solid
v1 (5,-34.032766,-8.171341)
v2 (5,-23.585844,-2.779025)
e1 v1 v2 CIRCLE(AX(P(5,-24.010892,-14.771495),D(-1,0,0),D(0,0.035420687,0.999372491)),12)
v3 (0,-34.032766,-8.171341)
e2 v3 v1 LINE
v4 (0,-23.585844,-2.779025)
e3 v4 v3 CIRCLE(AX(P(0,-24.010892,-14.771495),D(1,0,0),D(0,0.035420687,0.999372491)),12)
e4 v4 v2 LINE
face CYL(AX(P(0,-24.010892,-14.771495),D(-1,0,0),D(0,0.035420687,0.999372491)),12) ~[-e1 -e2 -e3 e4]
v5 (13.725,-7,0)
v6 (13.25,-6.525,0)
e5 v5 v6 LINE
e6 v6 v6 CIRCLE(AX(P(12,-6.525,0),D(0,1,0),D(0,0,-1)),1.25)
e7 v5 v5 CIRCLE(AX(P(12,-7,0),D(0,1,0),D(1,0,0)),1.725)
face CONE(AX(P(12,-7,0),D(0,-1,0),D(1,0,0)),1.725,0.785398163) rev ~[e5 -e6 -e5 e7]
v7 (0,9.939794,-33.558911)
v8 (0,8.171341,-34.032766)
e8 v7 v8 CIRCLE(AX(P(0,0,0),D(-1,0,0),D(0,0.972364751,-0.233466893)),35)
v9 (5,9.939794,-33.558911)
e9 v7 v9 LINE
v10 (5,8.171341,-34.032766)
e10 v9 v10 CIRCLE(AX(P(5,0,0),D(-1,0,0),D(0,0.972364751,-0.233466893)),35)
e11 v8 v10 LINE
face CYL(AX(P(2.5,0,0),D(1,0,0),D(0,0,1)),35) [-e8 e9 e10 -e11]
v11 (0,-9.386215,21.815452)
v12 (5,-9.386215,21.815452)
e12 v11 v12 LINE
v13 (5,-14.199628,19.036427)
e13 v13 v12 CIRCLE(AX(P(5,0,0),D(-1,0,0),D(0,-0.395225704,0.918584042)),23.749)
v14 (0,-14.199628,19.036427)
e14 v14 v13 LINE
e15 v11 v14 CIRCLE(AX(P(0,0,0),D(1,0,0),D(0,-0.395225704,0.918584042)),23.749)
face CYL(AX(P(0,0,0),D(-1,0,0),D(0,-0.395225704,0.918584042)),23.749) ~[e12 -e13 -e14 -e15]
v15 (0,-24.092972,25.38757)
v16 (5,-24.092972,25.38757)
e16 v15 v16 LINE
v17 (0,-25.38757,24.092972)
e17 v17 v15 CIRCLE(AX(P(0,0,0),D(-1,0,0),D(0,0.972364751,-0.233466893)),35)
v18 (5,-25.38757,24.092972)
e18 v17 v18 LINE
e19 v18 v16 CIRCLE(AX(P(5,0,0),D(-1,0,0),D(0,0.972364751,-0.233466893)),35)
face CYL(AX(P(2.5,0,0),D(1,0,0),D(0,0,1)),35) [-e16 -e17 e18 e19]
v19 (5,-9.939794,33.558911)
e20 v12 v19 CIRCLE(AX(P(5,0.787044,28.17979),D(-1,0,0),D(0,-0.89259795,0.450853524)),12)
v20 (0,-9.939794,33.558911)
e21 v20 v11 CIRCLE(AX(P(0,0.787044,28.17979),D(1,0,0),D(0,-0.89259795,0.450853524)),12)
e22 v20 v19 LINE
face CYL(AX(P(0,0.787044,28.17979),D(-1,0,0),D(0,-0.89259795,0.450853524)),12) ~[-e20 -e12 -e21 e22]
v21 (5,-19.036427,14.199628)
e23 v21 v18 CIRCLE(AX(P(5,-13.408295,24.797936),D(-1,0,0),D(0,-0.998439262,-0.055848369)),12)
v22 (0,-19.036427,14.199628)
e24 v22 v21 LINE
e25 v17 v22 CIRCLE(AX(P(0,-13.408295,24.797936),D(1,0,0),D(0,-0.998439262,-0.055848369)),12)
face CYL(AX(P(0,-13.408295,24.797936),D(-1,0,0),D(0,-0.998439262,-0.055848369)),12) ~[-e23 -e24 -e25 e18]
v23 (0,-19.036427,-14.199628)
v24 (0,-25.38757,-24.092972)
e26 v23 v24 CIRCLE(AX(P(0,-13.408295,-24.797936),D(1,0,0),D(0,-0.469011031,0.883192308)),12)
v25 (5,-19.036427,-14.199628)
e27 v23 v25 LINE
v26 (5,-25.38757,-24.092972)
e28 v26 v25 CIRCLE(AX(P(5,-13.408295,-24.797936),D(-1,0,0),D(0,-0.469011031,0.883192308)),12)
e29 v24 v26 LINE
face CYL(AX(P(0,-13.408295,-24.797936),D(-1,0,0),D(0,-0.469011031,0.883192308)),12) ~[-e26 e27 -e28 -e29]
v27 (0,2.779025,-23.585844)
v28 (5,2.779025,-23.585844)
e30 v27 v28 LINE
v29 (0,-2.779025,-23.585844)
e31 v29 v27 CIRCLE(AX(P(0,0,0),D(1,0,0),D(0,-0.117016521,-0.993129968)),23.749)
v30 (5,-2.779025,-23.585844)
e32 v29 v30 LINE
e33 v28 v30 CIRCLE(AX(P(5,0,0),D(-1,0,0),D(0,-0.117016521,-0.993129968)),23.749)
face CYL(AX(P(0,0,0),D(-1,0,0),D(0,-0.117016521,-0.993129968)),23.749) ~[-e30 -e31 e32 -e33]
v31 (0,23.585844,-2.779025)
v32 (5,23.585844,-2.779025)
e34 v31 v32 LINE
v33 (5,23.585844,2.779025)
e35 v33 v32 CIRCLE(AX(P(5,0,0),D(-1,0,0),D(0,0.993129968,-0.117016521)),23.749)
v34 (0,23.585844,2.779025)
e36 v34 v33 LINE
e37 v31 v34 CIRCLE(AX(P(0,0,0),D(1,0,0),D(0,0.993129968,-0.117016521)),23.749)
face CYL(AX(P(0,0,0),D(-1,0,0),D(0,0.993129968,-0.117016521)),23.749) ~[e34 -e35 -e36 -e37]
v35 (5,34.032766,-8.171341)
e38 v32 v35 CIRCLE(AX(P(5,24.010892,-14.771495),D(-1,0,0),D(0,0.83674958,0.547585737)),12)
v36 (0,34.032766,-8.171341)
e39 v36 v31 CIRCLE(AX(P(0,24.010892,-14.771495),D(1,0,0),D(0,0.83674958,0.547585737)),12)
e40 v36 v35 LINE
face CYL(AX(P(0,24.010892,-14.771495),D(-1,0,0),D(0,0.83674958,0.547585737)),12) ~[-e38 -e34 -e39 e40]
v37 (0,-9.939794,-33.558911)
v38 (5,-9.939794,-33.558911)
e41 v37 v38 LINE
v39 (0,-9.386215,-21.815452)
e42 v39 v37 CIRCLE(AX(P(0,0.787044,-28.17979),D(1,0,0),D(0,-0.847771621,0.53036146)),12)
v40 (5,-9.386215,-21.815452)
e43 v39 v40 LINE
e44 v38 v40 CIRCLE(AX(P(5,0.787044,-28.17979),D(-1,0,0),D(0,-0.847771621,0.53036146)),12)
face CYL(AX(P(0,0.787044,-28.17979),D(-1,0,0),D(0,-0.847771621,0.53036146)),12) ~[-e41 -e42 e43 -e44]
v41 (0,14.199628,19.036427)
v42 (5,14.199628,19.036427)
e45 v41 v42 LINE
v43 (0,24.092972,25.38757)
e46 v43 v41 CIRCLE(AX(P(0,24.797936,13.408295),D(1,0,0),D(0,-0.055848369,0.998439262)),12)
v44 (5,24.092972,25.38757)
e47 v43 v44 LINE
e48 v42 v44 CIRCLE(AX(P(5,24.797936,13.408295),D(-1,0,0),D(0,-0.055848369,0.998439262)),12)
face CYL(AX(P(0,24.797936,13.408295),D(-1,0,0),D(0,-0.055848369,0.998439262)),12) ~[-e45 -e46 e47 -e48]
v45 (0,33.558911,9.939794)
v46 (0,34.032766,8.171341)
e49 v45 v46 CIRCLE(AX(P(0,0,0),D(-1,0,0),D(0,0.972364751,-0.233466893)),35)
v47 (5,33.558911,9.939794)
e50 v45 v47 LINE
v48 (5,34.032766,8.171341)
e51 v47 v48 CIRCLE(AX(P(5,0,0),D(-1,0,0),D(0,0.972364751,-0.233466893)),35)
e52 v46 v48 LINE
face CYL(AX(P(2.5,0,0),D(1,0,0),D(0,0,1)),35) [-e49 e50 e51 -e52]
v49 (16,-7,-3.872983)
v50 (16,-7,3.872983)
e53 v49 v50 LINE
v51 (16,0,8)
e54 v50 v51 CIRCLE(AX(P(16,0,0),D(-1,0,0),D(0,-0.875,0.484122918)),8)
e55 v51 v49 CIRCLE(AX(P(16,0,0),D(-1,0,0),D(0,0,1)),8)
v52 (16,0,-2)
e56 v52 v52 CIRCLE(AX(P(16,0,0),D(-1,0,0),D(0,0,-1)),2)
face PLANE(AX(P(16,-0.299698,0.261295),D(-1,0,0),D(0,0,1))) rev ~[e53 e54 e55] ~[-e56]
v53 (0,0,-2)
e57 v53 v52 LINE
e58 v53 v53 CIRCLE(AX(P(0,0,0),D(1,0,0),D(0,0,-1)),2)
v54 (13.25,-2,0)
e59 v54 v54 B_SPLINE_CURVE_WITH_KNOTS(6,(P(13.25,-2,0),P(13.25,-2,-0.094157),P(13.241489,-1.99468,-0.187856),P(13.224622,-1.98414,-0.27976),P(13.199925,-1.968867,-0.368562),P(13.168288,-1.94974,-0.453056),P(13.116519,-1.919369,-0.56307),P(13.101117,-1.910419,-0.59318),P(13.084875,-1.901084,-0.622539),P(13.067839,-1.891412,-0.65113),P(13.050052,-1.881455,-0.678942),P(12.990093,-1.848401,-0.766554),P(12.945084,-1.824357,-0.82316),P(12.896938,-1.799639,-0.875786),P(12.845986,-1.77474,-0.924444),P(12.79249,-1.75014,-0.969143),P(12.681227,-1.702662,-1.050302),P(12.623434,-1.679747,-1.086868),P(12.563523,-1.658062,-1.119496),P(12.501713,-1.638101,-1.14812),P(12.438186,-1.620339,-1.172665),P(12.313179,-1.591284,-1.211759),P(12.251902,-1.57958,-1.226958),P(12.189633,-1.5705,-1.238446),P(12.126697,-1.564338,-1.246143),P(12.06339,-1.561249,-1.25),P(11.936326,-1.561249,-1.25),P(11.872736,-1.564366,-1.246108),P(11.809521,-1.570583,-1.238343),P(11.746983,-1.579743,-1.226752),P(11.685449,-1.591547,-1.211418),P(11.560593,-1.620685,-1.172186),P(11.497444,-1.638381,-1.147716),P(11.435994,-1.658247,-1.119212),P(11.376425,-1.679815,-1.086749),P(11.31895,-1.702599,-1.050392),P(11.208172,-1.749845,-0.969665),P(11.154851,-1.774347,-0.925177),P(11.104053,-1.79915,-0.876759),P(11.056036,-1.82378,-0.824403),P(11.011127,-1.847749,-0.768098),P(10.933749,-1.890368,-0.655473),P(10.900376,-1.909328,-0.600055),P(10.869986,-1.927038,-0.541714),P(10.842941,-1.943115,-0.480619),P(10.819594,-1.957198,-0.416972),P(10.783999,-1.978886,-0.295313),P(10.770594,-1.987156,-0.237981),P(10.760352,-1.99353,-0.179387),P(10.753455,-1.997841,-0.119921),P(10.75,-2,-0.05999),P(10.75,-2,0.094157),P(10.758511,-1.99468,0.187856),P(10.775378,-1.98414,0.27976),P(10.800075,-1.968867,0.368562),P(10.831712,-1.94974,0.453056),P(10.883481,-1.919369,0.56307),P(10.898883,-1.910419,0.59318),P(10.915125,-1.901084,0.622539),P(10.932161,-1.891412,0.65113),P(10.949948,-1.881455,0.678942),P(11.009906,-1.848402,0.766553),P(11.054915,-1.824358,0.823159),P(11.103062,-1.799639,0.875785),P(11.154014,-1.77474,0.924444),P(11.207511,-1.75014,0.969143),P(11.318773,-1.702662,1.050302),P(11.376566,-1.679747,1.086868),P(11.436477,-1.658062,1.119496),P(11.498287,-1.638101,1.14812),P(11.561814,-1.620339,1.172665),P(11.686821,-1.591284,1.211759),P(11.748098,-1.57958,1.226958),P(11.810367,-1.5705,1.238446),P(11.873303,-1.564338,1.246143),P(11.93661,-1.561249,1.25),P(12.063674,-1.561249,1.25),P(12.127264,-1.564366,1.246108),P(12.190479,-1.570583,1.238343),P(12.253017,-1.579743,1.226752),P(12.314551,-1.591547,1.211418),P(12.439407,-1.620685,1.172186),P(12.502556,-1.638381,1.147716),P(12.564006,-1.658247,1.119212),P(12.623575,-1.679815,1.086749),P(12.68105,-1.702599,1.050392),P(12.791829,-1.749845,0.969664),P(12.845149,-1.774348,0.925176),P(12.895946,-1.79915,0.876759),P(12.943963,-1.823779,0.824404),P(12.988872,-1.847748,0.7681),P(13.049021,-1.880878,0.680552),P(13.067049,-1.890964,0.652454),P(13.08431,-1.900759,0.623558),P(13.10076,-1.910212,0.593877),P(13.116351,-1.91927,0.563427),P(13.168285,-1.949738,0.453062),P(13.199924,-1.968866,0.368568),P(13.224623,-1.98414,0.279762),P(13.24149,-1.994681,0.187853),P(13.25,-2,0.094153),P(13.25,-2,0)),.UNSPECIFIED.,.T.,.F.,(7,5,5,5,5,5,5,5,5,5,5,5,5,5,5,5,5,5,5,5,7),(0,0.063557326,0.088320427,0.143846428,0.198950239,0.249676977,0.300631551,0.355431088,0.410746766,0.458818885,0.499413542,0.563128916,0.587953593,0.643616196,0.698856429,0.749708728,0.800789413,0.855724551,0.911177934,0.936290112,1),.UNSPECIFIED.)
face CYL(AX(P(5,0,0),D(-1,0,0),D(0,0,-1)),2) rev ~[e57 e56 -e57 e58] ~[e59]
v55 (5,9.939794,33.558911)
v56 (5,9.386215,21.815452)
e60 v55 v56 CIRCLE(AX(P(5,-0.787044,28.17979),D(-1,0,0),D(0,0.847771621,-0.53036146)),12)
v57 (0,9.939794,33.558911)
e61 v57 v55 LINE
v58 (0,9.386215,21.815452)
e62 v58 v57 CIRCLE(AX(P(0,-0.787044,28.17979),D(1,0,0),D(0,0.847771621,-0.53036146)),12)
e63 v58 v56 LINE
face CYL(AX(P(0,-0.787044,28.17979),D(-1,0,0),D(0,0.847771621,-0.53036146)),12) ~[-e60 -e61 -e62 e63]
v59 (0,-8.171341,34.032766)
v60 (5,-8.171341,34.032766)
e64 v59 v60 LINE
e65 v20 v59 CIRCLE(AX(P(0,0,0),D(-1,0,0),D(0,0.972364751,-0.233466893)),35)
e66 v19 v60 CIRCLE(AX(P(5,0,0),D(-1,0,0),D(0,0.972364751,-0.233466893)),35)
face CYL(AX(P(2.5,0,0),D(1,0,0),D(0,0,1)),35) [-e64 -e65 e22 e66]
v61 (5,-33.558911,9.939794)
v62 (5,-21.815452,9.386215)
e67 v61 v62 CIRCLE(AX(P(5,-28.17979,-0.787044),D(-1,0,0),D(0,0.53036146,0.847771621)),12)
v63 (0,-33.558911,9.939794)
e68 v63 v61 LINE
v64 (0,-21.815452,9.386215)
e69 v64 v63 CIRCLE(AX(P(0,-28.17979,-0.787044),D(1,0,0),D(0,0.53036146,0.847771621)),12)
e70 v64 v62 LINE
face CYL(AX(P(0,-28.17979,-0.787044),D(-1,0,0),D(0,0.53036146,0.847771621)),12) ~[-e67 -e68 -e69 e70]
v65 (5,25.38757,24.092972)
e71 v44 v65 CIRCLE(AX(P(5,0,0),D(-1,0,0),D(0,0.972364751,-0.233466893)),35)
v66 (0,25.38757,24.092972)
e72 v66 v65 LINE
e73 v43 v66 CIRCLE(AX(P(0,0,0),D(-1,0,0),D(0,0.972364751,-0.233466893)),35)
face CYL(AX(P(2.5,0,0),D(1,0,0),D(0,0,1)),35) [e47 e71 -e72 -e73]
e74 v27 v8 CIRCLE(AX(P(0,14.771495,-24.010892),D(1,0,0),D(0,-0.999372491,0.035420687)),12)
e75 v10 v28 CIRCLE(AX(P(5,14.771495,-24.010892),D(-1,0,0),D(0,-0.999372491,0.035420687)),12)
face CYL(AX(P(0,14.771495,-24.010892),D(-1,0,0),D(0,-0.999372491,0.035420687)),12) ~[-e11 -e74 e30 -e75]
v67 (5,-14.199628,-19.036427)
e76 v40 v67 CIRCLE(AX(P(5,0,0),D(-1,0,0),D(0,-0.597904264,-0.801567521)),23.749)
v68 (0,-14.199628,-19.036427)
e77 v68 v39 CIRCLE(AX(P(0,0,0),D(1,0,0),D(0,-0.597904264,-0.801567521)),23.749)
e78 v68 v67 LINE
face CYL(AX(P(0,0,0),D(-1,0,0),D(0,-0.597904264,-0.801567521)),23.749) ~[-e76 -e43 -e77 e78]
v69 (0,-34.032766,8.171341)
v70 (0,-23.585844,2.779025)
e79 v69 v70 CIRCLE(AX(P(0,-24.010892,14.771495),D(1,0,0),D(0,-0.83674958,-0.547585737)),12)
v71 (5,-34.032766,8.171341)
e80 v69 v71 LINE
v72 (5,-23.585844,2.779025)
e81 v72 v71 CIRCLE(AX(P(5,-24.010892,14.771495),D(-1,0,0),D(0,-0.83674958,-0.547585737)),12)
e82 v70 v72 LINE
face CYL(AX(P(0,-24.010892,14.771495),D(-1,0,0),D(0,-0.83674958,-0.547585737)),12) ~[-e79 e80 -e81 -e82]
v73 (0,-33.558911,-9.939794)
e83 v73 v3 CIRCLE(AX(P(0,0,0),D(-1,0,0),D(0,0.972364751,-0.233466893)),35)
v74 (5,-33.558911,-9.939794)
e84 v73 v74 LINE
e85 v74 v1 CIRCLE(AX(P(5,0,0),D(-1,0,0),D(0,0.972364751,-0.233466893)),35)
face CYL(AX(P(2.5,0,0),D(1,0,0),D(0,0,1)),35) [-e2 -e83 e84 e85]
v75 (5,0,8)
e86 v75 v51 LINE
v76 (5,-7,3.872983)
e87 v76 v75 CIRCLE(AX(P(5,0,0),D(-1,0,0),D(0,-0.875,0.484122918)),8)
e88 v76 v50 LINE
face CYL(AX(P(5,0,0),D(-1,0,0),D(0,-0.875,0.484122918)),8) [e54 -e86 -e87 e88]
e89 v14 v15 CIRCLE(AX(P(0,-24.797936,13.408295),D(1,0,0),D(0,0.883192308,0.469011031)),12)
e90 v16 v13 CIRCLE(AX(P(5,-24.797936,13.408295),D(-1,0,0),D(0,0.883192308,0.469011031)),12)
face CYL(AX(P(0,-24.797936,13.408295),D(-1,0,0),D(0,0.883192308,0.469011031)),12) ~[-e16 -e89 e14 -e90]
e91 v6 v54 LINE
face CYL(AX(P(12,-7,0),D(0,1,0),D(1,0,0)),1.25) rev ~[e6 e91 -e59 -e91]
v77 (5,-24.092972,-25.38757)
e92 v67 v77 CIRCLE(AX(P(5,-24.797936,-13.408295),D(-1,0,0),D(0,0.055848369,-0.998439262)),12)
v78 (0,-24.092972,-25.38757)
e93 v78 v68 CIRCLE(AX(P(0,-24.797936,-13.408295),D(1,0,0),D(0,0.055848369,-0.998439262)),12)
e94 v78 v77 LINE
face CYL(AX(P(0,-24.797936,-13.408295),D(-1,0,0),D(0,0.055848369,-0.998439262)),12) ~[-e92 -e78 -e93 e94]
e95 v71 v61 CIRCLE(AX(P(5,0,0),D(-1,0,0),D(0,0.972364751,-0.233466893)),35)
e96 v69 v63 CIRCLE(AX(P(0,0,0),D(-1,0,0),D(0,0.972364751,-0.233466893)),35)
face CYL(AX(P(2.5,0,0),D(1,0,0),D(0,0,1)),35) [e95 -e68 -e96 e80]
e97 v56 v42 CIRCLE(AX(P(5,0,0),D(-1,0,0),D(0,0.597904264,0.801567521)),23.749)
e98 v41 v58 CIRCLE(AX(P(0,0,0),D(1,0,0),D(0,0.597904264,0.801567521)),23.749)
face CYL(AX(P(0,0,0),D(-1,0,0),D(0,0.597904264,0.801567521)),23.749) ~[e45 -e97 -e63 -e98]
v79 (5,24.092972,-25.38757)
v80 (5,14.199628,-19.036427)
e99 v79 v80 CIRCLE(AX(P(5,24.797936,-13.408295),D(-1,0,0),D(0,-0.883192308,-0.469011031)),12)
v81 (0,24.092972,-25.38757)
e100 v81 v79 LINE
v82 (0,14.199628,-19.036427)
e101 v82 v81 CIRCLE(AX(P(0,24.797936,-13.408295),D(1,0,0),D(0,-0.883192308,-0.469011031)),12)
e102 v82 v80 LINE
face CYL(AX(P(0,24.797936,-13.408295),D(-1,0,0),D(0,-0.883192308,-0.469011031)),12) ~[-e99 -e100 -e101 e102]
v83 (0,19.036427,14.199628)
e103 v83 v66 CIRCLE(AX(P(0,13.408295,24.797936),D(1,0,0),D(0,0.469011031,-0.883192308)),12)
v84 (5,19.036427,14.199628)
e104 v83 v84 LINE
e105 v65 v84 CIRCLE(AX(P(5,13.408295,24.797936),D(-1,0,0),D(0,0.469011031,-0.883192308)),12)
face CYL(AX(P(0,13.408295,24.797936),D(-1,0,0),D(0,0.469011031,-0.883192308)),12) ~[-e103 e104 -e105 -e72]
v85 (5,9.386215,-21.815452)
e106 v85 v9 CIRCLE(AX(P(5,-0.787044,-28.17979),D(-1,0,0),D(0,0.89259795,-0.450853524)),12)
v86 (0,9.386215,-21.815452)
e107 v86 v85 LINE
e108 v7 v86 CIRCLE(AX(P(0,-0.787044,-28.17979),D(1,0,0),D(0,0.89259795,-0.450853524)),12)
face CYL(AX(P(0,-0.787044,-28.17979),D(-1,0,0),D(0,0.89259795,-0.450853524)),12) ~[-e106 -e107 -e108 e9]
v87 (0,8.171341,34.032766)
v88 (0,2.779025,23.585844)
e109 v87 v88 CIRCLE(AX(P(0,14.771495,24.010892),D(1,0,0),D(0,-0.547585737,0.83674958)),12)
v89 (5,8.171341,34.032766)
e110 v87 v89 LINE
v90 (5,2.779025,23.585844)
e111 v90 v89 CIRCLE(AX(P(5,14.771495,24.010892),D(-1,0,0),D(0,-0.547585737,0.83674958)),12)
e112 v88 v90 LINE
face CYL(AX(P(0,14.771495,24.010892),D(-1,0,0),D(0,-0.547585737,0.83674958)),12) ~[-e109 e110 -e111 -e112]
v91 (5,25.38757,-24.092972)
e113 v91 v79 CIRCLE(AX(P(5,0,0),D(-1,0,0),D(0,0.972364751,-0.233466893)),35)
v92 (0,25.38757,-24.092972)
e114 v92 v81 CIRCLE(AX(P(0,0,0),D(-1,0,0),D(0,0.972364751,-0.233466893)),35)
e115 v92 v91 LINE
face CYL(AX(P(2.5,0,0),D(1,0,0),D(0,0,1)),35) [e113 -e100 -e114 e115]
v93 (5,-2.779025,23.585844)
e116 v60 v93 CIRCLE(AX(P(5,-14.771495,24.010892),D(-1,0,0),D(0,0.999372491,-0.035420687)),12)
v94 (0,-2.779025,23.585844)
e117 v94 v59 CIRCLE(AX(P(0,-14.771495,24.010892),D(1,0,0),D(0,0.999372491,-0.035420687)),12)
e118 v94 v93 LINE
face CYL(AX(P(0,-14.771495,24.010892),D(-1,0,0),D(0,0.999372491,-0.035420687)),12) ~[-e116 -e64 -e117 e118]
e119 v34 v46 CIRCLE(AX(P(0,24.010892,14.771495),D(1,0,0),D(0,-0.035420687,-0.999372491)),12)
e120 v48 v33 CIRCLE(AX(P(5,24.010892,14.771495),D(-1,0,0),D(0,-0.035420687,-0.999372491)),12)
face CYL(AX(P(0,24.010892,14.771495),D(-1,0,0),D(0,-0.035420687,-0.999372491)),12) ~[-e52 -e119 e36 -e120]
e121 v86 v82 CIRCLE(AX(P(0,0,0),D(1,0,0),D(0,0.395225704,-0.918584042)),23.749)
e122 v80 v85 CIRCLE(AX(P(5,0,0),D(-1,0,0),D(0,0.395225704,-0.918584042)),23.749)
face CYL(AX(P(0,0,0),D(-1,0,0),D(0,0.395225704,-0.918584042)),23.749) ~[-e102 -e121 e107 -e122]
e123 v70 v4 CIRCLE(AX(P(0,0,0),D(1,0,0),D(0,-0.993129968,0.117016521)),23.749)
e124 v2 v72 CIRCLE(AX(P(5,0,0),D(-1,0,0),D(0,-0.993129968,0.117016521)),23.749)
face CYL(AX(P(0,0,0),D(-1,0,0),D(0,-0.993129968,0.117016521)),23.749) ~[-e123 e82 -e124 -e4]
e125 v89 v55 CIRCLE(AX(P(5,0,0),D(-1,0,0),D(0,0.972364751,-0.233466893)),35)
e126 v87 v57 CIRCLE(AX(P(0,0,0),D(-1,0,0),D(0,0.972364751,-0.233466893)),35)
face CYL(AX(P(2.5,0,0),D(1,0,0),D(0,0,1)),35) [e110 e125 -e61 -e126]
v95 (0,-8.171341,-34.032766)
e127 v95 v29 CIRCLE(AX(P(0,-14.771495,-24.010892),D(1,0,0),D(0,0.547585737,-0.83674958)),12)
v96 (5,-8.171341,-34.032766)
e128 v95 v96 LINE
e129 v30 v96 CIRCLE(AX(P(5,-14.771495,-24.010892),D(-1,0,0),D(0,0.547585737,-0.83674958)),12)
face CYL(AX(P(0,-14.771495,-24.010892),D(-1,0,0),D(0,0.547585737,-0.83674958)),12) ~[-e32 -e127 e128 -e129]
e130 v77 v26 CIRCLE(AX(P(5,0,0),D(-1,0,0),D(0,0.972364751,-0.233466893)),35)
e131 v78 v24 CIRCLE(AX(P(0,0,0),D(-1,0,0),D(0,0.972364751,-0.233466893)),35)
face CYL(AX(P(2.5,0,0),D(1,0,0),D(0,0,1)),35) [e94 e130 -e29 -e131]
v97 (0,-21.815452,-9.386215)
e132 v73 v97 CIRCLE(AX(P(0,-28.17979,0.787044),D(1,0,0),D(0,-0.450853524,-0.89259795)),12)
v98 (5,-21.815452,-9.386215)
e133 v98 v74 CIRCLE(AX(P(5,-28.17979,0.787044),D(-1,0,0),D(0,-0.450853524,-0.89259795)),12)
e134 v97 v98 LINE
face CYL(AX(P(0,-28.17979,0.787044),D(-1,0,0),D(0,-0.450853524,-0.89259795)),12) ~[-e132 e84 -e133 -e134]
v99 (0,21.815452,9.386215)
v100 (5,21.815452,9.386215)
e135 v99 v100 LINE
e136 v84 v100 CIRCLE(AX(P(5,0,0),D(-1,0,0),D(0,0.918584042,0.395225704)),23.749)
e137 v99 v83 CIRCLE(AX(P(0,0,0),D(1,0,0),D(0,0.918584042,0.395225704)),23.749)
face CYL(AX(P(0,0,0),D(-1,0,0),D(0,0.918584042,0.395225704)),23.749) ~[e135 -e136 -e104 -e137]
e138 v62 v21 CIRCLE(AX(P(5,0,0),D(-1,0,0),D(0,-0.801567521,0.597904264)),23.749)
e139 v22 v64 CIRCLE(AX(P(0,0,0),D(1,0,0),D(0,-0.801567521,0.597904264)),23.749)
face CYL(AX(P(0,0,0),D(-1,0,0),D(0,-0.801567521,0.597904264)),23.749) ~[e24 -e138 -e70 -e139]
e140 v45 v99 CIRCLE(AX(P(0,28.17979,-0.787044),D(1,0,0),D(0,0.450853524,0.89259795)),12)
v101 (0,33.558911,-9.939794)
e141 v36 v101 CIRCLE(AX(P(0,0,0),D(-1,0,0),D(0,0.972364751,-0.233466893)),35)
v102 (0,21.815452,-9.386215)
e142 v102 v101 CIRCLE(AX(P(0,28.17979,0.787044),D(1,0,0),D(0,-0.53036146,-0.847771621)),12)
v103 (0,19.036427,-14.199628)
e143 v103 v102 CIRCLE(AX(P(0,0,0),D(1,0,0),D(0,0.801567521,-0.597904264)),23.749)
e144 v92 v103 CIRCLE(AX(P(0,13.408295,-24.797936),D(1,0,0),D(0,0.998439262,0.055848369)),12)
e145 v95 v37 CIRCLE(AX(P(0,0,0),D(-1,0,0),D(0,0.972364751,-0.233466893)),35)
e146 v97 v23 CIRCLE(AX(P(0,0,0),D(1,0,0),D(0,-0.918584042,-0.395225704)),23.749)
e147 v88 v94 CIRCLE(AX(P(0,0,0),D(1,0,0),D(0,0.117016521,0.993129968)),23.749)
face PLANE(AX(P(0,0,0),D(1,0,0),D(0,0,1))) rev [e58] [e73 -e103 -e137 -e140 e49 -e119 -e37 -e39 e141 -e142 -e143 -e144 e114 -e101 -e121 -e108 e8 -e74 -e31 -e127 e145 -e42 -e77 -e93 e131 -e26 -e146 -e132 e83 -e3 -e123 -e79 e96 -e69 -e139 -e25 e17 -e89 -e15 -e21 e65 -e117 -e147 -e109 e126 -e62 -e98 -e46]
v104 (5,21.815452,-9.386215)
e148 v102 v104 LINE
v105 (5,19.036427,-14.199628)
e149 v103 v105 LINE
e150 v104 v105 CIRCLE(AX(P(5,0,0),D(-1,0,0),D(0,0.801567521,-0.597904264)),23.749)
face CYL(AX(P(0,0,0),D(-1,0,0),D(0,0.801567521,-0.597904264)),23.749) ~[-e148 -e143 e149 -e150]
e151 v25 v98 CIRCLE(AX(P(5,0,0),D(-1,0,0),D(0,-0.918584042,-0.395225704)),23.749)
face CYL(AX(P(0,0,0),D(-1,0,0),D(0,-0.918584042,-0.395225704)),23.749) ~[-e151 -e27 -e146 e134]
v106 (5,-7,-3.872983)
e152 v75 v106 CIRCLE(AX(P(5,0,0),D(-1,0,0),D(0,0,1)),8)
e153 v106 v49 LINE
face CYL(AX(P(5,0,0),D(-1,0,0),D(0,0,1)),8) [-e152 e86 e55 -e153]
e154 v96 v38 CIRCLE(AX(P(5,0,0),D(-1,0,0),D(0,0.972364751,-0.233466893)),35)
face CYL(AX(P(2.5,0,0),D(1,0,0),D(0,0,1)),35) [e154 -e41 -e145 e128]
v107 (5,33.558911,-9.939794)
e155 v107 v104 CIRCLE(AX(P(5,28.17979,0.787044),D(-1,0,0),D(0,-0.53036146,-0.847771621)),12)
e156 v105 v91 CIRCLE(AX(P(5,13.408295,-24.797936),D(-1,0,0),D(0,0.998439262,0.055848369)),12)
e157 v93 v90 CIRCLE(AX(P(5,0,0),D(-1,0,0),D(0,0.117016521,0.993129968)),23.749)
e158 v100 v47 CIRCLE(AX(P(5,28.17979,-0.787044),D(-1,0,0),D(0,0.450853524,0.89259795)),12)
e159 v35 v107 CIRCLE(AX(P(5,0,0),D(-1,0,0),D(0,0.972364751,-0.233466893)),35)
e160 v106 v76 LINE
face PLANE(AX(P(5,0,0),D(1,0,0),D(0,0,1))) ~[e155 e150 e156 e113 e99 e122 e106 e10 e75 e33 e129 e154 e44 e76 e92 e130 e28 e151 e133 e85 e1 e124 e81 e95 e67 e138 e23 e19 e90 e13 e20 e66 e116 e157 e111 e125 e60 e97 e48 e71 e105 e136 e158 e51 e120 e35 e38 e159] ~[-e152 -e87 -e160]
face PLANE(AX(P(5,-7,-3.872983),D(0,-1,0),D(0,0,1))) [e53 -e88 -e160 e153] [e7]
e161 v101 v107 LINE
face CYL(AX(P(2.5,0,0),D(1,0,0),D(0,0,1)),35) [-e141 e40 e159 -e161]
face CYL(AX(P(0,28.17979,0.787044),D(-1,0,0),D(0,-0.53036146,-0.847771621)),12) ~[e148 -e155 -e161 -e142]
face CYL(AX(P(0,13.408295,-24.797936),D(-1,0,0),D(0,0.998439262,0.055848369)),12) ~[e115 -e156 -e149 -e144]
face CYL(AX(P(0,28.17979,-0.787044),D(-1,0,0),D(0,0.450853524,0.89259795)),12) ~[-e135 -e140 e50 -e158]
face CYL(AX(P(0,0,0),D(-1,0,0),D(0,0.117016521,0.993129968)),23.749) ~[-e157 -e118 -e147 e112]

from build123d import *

# Parameters (mm, degrees)
BASPROSKE_W                     = 5
BASPROSKE_H                     = 35
TOOTHCUT_DEPTH                  = 50.749371855
TEETHCUTS_COUNT                 = 12
TEETHCUTS_ANGLE                 = 330
BORSKE_R                        = 0.4
BORE_DEPTH                      = 50.0000508
SKETCH1_R                       = 2
CUT_EXTRUDE1_DEPTH              = 49.388618122
SKETCH2_R                       = 2
BOSS_EXTRUDE1_DEPTH             = 11
M3X0_5_TAPPED_HOLE1_D           = 2.5
M3X0_5_TAPPED_HOLE1_DEPTH       = 7.5
M3X0_5_TAPPED_HOLE1_CSINK_D     = 3.45
M3X0_5_TAPPED_HOLE1_CSINK_ANGLE = 90
M3X0_5_TAPPED_HOLE1_TIP         = 0.751075774


with BuildPart() as part:
    # BasProSke → Base-Revolve (revolve)
    with BuildSketch(Plane(origin=(0, 0, 0), x_dir=(1, 0, 0), z_dir=(0, 1, 0)), mode=Mode.PRIVATE) as base_revolve_sk:
        with Locations((2.5, 17.5)):
            Rectangle(BASPROSKE_W, BASPROSKE_H)
    revolve(base_revolve_sk.sketch.rotate(Axis((-10, 0, 0), (1, 0, 0)), 180), axis=Axis((-10, 0, 0), (1, 0, 0)))

    # TooCutSke → ToothCut (cut, through all)
    with BuildSketch(Plane(origin=(0, 0, 0), x_dir=(0, 0, -1), z_dir=(1, 0, 0))):
        with BuildLine():
            ThreePointArc((2.779025365, 23.585843615), (0, 23.749), (-2.779025365, 23.585843615))
            ThreePointArc((-2.779025365, 23.585843615), (-4.116196739, 29.530367698), (-8.200466404, 34.051886819))
            ThreePointArc((-8.200466404, 34.051886819), (0, 35.0254), (8.200466404, 34.051886819))
            ThreePointArc((8.200466404, 34.051886819), (4.116196739, 29.530367698), (2.779025365, 23.585843615))
        make_face()
    toothcut = extrude(amount=TOOTHCUT_DEPTH, mode=Mode.SUBTRACT)

    # TeethCuts: ToothCut ×12 about axis
    teethcuts_axis = Axis((-10, 0, 0), (1, 0, 0))
    for i in range(1, TEETHCUTS_COUNT):
        add(toothcut.rotate(teethcuts_axis, i * TEETHCUTS_ANGLE / (TEETHCUTS_COUNT - 1)), mode=Mode.SUBTRACT)

    # BorSke → Bore (cut, symmetric)
    with BuildSketch(Plane(origin=(0, 0, 0), x_dir=(0, 0, -1), z_dir=(1, 0, 0))):
        with Locations(Location((0, 0, 0), (0, 0, 180))):
            Circle(BORSKE_R)
    extrude(amount=BORE_DEPTH, both=True, mode=Mode.SUBTRACT)

    # Sketch1 → Cut-Extrude1 (cut, through all)
    with BuildSketch(Plane(origin=(5, 0, 0), x_dir=(0, 0, -1), z_dir=(1, 0, 0))):
        Circle(SKETCH1_R)
    extrude(amount=-CUT_EXTRUDE1_DEPTH, mode=Mode.SUBTRACT)

    # Sketch2 → Boss-Extrude1 (add)
    with BuildSketch(Plane.ZY.offset(-5)):
        with BuildLine():
            Line((-3.872983346, -7), (3.872983346, -7))
            ThreePointArc((3.872983346, -7), (6.891439137, -4.063012013), (8, 0))
            ThreePointArc((8, 0), (-4.063012013, 6.891439137), (-3.872983346, -7))
        make_face()
        with Locations(Location((0, 0, 0), (0, 0, 180))):
            Circle(SKETCH2_R, mode=Mode.SUBTRACT)
    extrude(amount=-BOSS_EXTRUDE1_DEPTH)

    # M3x0.5 Tapped Hole1
    with Locations(Plane(origin=(0, -7, 0), x_dir=(-1, 0, 0), z_dir=(0, -1, 0))):
        with Locations((-12, 0)):
            CounterSinkHole(M3X0_5_TAPPED_HOLE1_D / 2, M3X0_5_TAPPED_HOLE1_CSINK_D / 2, depth=M3X0_5_TAPPED_HOLE1_DEPTH, counter_sink_angle=M3X0_5_TAPPED_HOLE1_CSINK_ANGLE)
            with Locations((0, 0, -(M3X0_5_TAPPED_HOLE1_DEPTH + M3X0_5_TAPPED_HOLE1_TIP / 2))):  # 118° drill point
                Cone(0, M3X0_5_TAPPED_HOLE1_D / 2, M3X0_5_TAPPED_HOLE1_TIP, mode=Mode.SUBTRACT)


solid = part.part
